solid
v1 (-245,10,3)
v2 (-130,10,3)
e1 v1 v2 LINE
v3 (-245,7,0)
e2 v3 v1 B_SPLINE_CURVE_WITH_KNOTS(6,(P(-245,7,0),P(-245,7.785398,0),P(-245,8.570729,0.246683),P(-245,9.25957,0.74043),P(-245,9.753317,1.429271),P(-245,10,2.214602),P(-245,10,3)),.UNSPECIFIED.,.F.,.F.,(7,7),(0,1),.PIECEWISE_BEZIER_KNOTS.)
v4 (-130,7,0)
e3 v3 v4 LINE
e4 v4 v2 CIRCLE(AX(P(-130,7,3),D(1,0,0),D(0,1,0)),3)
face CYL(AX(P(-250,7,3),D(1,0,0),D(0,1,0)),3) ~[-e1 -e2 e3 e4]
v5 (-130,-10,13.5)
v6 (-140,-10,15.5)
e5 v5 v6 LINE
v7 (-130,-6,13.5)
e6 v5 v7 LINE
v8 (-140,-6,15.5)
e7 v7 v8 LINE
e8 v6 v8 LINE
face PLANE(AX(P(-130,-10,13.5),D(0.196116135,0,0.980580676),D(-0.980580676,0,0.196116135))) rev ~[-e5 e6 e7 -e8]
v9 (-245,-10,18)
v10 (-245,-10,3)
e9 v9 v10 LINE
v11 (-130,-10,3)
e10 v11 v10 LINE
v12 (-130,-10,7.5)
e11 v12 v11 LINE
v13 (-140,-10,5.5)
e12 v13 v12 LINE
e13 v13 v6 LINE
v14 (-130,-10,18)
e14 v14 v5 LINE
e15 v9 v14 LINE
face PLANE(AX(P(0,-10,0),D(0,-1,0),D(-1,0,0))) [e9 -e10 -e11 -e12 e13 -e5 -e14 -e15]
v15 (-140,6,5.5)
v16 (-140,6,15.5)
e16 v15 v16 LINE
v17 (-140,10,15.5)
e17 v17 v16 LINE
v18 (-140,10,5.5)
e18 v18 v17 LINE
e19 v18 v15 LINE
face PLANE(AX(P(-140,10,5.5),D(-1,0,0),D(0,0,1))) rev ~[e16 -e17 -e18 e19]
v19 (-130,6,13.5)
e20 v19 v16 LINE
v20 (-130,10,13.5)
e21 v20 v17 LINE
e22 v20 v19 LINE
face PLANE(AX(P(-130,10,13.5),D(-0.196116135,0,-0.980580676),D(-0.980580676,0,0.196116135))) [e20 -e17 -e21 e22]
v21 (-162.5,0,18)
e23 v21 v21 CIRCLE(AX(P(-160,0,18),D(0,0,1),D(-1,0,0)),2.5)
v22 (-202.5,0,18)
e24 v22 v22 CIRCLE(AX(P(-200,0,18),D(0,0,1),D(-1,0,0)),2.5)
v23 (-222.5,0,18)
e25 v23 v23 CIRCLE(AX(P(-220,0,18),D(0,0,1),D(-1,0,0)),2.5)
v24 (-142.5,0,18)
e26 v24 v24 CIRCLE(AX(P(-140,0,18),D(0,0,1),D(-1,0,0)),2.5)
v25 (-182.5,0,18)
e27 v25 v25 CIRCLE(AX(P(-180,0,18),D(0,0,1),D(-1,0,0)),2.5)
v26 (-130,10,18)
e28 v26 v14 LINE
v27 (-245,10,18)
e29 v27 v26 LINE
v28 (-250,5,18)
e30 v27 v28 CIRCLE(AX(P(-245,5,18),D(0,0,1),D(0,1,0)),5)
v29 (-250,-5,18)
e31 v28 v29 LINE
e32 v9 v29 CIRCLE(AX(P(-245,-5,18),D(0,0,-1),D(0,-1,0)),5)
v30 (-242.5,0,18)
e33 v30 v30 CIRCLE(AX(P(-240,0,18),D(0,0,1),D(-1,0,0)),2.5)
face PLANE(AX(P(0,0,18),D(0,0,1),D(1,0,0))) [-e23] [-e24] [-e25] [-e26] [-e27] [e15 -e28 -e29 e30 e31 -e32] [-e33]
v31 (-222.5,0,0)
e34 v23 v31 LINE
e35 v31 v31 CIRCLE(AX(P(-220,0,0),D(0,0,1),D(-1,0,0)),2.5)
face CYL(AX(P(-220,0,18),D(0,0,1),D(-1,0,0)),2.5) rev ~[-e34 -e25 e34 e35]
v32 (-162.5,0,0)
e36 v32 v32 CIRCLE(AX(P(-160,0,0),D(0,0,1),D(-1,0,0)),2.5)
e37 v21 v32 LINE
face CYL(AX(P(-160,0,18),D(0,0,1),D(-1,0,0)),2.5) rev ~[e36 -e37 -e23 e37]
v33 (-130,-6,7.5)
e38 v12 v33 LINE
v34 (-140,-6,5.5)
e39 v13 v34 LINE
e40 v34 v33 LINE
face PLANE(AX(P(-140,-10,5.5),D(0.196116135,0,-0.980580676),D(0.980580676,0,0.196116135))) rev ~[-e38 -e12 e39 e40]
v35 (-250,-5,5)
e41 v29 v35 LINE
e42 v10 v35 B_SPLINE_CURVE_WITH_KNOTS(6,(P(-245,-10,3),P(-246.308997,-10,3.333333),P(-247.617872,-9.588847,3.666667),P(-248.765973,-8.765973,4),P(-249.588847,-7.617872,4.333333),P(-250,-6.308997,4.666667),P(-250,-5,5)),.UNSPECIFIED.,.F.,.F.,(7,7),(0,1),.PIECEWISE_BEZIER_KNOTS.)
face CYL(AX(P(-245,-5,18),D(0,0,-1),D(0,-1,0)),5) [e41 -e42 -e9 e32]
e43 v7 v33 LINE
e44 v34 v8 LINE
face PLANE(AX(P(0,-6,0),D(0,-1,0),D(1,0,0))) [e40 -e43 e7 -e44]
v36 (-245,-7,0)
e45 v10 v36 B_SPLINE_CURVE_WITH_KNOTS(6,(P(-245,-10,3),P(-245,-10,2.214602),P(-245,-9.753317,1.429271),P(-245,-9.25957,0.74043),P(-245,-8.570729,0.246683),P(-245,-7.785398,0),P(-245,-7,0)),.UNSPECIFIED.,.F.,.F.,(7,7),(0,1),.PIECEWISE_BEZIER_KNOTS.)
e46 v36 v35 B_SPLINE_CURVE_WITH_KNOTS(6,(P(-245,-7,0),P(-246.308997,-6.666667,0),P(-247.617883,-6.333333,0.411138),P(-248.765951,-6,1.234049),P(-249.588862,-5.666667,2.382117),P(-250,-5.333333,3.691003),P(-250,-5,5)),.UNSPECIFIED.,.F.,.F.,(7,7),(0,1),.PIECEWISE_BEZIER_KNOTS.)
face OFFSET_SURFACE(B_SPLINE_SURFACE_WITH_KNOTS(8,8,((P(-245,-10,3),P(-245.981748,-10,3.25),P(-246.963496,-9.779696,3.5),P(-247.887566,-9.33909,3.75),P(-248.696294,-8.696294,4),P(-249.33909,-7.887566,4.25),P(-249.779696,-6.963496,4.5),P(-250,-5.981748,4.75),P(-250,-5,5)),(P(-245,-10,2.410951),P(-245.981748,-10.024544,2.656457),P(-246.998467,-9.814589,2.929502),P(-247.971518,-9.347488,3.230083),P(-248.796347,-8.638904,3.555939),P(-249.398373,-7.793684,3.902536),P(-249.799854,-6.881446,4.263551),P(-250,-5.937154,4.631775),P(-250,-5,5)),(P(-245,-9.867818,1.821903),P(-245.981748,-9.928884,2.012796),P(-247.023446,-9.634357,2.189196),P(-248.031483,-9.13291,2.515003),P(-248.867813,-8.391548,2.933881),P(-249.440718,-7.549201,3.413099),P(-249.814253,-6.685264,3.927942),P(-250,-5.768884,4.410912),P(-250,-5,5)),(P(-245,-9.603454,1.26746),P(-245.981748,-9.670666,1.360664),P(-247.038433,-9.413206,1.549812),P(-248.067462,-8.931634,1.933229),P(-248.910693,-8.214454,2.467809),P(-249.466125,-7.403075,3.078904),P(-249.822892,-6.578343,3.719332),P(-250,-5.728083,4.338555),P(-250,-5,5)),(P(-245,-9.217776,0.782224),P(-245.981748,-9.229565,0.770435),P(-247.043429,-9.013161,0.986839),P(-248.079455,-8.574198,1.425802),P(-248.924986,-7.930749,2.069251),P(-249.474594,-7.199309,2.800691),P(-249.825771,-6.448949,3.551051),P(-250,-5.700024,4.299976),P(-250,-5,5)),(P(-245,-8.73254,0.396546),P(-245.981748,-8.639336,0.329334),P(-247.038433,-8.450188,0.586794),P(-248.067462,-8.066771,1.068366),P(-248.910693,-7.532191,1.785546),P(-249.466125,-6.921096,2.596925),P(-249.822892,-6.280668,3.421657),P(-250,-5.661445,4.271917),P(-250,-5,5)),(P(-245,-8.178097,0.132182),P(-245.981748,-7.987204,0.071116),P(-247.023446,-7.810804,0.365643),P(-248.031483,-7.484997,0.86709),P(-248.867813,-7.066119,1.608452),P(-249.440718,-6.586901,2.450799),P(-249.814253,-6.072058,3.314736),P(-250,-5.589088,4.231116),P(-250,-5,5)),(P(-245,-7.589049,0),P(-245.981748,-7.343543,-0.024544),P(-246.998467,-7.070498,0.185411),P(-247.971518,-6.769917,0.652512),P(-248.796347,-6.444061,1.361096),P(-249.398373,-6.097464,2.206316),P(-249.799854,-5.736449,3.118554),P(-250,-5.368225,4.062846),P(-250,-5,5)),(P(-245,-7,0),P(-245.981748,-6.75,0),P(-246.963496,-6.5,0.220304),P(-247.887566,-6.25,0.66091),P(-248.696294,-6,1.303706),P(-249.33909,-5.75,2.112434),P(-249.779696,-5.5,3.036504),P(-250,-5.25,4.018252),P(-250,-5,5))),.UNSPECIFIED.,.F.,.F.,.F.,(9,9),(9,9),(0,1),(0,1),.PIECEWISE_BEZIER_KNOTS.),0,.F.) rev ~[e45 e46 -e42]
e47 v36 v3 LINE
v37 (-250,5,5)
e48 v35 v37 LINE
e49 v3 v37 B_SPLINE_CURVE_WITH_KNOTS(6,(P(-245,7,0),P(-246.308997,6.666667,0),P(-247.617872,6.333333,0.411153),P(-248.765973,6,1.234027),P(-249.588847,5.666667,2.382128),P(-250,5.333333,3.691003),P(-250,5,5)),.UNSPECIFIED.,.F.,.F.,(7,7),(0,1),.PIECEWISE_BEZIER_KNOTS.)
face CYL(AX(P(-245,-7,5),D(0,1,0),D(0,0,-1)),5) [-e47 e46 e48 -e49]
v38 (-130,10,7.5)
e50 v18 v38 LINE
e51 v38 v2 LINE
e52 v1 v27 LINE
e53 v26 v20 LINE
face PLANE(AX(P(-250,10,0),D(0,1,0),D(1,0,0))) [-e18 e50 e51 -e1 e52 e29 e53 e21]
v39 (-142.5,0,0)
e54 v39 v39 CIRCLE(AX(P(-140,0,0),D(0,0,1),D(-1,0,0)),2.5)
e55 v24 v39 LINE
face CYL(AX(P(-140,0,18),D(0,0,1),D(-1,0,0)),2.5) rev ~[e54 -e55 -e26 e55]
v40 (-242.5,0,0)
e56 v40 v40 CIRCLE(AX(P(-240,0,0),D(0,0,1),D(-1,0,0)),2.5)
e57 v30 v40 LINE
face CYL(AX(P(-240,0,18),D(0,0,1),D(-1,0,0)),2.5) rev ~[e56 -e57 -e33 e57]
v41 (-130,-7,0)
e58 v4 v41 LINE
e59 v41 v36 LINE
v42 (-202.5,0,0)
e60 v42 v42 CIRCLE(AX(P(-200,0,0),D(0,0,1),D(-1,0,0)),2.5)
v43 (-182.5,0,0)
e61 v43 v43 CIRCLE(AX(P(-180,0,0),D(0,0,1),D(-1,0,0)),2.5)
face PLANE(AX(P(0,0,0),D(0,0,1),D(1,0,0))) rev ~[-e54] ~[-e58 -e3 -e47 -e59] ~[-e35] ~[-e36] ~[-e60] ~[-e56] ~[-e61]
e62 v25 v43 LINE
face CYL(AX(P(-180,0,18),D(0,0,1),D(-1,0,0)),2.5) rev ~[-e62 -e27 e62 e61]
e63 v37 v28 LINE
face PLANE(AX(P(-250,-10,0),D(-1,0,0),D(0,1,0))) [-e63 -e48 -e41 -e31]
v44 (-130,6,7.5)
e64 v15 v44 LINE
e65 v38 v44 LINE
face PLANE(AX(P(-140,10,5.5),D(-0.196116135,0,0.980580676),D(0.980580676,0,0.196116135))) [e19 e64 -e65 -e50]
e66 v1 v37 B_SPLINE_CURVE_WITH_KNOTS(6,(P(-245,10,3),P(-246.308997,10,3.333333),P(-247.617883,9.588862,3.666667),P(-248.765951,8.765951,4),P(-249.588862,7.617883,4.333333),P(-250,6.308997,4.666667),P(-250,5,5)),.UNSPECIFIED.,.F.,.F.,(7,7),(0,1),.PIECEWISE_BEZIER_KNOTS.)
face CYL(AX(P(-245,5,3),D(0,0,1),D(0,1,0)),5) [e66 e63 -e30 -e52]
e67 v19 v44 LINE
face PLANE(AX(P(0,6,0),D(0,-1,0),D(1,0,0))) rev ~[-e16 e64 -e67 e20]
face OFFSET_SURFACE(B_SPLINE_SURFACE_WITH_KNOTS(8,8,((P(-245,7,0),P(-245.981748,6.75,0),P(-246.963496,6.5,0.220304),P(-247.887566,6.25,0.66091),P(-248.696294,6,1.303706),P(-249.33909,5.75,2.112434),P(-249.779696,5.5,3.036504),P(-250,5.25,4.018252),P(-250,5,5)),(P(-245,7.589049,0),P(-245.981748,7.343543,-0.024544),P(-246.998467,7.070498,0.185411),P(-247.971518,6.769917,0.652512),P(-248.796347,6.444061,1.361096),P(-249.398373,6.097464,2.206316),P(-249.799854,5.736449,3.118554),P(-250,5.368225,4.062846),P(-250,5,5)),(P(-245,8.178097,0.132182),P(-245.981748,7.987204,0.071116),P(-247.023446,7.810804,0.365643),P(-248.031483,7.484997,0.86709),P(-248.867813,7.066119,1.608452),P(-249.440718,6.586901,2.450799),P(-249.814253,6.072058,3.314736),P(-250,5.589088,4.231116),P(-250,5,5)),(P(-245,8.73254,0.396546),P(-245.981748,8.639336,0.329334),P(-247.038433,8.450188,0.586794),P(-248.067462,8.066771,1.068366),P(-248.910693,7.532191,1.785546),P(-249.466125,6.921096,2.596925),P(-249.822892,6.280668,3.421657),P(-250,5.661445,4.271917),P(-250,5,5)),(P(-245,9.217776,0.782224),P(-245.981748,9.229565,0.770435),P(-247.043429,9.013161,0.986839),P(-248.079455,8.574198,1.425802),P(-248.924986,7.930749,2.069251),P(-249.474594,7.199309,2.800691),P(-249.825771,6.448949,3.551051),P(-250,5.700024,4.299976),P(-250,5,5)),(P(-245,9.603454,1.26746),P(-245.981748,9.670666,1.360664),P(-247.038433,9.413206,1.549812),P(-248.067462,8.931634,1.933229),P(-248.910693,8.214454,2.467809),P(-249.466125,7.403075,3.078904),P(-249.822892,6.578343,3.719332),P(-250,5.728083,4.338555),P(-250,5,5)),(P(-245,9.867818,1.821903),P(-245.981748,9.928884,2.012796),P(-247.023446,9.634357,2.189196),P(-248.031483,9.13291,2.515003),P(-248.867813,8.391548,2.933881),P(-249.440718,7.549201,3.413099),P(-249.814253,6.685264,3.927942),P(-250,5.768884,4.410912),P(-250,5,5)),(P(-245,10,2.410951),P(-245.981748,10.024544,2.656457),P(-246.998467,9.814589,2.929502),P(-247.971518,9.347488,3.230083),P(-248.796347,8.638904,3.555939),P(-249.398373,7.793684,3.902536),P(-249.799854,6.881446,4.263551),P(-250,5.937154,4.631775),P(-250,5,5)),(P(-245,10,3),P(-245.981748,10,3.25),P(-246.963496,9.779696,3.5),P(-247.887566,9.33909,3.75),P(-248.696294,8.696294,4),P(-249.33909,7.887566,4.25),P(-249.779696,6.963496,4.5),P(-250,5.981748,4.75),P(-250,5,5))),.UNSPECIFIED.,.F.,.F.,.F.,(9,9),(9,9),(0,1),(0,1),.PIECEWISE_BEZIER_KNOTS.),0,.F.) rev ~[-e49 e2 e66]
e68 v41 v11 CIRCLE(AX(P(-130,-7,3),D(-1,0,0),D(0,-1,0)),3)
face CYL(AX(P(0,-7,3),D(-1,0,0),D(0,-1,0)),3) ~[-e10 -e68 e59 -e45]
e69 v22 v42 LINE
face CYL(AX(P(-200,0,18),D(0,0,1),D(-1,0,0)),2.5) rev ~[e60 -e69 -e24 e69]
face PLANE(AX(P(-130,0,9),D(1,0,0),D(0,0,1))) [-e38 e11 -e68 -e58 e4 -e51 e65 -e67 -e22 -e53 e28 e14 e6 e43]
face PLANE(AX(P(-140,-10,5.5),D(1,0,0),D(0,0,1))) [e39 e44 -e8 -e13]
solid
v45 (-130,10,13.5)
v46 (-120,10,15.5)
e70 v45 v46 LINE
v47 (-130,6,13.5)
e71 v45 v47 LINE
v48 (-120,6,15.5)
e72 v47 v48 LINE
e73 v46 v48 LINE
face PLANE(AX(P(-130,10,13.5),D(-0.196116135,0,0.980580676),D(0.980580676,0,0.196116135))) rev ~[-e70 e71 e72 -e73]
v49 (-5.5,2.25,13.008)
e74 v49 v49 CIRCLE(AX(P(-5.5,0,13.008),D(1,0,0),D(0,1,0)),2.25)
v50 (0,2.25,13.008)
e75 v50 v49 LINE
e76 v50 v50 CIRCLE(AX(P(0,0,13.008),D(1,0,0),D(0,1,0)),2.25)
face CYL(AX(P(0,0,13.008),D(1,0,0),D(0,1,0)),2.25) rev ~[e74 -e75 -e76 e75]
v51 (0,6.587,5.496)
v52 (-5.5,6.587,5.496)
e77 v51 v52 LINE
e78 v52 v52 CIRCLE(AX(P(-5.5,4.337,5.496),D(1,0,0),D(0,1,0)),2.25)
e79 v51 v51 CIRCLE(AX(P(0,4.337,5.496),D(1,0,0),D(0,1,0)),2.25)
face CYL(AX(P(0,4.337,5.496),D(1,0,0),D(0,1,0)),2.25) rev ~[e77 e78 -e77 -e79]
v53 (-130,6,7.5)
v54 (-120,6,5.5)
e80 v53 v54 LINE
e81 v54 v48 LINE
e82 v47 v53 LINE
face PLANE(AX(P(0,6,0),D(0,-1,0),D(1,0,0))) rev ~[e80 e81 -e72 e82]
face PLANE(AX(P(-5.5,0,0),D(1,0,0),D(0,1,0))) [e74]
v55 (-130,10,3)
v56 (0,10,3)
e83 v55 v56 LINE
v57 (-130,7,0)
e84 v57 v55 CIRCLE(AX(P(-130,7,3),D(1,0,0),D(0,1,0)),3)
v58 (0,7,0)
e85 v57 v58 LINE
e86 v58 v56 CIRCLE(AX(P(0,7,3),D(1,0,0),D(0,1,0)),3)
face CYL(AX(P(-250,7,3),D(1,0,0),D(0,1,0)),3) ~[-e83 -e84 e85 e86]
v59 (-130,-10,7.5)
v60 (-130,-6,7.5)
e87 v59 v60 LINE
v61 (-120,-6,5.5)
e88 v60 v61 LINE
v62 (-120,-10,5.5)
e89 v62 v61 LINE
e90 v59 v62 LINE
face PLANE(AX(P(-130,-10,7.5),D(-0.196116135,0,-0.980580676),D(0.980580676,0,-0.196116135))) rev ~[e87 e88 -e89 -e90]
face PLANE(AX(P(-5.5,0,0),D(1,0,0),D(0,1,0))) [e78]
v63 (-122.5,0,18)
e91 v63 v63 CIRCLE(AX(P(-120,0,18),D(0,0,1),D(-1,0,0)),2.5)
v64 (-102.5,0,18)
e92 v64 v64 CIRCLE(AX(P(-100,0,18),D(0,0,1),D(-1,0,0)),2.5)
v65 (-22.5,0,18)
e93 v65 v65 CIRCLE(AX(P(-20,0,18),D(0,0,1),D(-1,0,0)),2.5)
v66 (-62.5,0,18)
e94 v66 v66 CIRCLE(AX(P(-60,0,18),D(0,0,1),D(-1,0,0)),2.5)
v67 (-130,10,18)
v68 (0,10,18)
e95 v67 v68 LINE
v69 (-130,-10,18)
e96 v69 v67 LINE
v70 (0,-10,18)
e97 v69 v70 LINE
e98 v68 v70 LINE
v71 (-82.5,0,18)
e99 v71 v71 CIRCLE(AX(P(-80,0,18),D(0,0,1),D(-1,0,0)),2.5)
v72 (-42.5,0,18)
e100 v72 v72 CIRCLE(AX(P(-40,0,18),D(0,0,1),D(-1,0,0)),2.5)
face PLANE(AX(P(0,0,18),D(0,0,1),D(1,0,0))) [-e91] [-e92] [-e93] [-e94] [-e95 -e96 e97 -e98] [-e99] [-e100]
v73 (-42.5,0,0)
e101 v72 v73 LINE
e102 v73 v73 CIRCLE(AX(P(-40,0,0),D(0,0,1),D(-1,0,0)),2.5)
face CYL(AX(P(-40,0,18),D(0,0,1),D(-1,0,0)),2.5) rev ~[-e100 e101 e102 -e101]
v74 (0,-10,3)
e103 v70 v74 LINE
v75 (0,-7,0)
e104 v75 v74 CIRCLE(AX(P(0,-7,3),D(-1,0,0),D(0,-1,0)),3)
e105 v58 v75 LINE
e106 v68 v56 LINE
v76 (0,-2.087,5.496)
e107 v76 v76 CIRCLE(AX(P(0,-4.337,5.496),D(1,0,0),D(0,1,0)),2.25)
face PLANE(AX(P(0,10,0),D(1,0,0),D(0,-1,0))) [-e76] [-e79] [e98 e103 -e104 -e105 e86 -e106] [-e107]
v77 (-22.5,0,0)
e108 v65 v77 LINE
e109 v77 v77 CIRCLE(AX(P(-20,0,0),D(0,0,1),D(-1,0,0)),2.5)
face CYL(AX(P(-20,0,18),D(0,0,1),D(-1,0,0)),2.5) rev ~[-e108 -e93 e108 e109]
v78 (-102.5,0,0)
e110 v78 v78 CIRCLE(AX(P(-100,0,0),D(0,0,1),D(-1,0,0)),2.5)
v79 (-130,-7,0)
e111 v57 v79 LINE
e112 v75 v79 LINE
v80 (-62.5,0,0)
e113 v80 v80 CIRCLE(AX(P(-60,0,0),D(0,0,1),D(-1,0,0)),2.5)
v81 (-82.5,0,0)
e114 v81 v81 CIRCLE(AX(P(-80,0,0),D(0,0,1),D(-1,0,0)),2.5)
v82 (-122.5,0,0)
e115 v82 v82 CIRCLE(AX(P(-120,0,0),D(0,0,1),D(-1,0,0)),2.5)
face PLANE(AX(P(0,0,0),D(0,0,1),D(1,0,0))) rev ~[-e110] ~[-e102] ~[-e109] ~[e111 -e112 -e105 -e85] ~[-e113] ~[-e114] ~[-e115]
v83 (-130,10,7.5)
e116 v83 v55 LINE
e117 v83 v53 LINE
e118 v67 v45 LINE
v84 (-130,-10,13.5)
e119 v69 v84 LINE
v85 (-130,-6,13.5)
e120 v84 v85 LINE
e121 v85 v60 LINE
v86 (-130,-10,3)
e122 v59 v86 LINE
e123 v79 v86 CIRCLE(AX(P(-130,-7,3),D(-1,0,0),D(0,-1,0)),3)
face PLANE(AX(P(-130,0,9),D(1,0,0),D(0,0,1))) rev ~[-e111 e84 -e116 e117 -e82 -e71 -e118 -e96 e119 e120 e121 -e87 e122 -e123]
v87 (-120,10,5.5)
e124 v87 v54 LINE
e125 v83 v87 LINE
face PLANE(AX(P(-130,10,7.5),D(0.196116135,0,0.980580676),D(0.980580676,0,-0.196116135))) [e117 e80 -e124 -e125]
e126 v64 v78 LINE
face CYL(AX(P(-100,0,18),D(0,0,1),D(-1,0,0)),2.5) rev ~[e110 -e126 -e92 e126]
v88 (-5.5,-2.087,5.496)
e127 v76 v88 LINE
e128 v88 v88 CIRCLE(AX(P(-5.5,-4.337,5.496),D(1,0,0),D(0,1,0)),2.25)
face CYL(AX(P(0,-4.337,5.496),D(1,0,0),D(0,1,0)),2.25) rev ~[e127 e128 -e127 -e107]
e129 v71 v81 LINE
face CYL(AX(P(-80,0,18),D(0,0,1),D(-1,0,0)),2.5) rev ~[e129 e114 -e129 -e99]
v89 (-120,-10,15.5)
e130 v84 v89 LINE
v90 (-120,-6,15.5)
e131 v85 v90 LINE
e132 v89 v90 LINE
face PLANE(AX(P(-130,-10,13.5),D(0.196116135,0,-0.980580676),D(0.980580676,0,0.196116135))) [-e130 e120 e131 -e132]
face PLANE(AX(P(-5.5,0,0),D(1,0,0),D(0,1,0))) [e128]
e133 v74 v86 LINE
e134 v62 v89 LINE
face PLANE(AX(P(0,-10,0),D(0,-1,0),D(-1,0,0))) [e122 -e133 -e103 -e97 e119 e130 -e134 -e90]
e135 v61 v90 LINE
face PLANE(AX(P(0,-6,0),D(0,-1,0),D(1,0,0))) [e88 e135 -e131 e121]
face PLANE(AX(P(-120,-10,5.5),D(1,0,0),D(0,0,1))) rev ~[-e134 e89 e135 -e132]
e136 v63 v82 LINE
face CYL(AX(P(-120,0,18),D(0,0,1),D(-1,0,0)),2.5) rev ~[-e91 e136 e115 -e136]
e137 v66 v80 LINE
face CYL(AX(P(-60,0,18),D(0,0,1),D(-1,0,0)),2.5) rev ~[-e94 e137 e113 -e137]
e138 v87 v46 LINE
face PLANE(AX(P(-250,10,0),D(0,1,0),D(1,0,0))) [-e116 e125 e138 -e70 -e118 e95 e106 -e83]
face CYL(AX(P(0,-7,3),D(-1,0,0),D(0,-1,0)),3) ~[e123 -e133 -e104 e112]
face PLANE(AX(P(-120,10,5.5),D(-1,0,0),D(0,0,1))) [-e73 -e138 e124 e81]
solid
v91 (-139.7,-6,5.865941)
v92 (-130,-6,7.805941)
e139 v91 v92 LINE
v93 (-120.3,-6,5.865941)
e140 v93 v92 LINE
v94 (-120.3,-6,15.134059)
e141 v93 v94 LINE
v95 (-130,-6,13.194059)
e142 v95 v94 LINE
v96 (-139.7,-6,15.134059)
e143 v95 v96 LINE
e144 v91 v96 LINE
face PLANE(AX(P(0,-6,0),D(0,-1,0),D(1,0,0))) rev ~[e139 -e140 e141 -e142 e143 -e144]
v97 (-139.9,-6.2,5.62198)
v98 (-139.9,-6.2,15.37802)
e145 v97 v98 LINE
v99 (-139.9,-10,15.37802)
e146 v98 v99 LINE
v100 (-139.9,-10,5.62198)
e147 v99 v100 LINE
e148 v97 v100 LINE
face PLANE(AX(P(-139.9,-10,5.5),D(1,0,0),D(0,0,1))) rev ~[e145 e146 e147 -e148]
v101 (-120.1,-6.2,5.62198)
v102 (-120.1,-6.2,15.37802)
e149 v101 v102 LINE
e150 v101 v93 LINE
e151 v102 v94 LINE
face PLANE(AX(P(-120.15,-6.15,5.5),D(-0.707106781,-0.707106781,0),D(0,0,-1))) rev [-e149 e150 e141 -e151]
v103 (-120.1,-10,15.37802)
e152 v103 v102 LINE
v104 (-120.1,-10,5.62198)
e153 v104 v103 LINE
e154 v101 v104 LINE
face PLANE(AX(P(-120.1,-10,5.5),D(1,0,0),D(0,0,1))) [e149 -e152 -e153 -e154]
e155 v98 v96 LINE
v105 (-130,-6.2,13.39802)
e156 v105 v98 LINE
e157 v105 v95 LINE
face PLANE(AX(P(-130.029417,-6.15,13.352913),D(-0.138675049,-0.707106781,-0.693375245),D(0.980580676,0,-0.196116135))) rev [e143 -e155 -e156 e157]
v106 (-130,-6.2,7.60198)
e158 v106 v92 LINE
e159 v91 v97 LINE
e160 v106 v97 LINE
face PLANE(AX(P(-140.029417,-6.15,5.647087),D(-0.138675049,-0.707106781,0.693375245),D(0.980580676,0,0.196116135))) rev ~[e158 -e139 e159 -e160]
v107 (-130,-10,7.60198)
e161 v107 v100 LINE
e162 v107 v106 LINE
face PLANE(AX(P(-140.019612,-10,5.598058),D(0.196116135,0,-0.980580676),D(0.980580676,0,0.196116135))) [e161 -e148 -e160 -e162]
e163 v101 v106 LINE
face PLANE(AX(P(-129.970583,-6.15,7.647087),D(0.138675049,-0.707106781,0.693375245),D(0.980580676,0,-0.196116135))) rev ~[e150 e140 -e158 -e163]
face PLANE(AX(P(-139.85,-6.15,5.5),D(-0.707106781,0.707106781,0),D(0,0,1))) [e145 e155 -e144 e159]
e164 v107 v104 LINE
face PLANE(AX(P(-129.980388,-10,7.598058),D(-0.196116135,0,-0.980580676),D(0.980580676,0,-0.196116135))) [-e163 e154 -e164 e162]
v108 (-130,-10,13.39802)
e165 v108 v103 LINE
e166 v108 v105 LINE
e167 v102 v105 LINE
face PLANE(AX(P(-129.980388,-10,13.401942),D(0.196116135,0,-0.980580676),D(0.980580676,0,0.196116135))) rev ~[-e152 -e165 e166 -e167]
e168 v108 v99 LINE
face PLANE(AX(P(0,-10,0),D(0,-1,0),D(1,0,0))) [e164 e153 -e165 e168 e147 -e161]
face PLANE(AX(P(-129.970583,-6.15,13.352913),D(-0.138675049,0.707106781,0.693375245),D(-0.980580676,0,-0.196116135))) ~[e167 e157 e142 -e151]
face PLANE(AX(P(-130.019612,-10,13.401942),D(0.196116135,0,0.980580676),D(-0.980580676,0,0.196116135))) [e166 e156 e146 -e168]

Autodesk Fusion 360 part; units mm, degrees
sketch "Sketch1" plane through (0, 0, 0) normal (0, 0, 1) x (1, 0, 0)
  line L0 (0, 10) -> (0, -10)
  line L1 (0, -10) -> (-250, -10)
  line L2 (-250, -10) -> (-250, 10)
  line L3 (-250, 10) -> (0, 10)
  line L4 (0, -10) -> (-250, 10) construction
  line L5 (-250, -10) -> (0, 10) construction
  point P0 (-125, 0)
  point P1 (-250, 0)
  dimension "d1" = 20
  dimension "d36" = 250
extrude "Extrude1" add sketch "Sketch1" along normal blind 18 makes body 1
sketch "Sketch2" plane through (0, 0, 18) normal (0, 0, 1) x (-1, 0, 0)
  line L0 (250, -10) -> (250, 10)
  line L1 (250, 10) -> (0, 10)
  line L2 (0, 10) -> (0, -10)
  line L3 (0, -10) -> (250, -10)
  circle A0 centre (280, 0) radius 2
  circle A1 centre (260, 0) radius 2
  circle A2 centre (240, 0) radius 2
  circle A3 centre (220, 0) radius 2
  circle A4 centre (200, 0) radius 2
  circle A5 centre (180, 0) radius 2
  circle A6 centre (160, 0) radius 2
  circle A7 centre (140, 0) radius 2
  circle A8 centre (120, 0) radius 2
  circle A9 centre (100, 0) radius 2
  circle A10 centre (80, 0) radius 2
  circle A11 centre (60, 0) radius 2
  circle A12 centre (40, 0) radius 2
  circle A13 centre (20, 0) radius 2
  point P0 (20, 0)
  point P1 (40, 0)
  point P2 (60, 0)
  point P3 (80, 0)
  point P4 (100, 0)
  point P5 (120, 0)
  point P6 (140, 0)
  point P7 (160, 0)
  point P8 (180, 0)
  point P9 (200, 0)
  point P10 (220, 0)
  point P11 (240, 0)
  point P12 (260, 0)
  point P13 (280, 0)
  dimension "d9" = 20
  dimension "d10" = 0
  dimension "d11" = 4
  dimension "d12" = 4
  dimension "d13" = 4
  dimension "d14" = 4
  dimension "d15" = 4
  dimension "d16" = 4
  dimension "d17" = 4
  dimension "d18" = 4
  dimension "d19" = 4
  dimension "d20" = 4
  dimension "d21" = 4
  dimension "d22" = 4
  dimension "d23" = 4
  dimension "d24" = 4
extrude "Extrude2" cut sketch "Sketch2" against normal blind 90 contours A0 | A1 | A2 | A3 | A4 | A5 | A6 | A7 | A8 | A9 | A10 | A11 | A12 | A13 bodies 1
fillet "Fillet1" radius 3 2 edges at (-125, -10, 0) (-125, 10, 0) on bodies 1
sketch "Sketch3" plane through (0, 0, 0) normal (1, 0, 0) x (0, 1, 0)
  arc A0 (7, 0) -> (10, 3) centre (7, 3) ccw
  line L0 (10, 3) -> (10, 18)
  line L1 (10, 18) -> (-10, 18)
  line L2 (-10, 18) -> (-10, 3)
  arc A1 (-10, 3) -> (-7, 0) centre (-7, 3) ccw
  line L3 (-7, 0) -> (7, 0)
  line L4 (0, 36) -> (0, 0) construction
  line L5 (0, 13.008) -> (-4.337, 5.496) construction
  line L6 (-4.337, 5.496) -> (4.337, 5.496) construction
  line L7 (4.337, 5.496) -> (0, 13.008) construction
  circle A2 centre (0, 13.008) radius 2.25
  circle A3 centre (4.337, 5.496) radius 2.25
  circle A4 centre (-4.337, 5.496) radius 2.25
  point P0 (0, 18)
  point P1 (0, 8)
  dimension "d29" = 8.6741
  dimension "d30" = 8
  dimension "d31" = 4.5
  dimension "d32" = 4.5
  dimension "d33" = 4.5
extrude "Extrude3" cut sketch "Sketch3" against normal blind 5.5 contours A2 | A3 | A4 bodies 1
sketch "Sketch4" plane through (0, -10, 0) normal (0, -1, 0) x (1, 0, 0)
  line L0 (-250, 3) -> (0, 3)
  line L1 (0, 3) -> (0, 18)
  line L2 (0, 18) -> (-250, 18)
  line L3 (-250, 18) -> (-250, 3)
fillet "Fillet2" radius 5 5 edges at (-250, 10, 10.5) (-250, 9.1213, 0.8787) (-250, 0, 0) (-250, -9.1213, 0.8787) (-250, -10, 10.5) on bodies 1
ref_plane "WorkPlane1" through (-130, 0, 9) normal (1, 0, 0) x (0, 1, 0)
split "Split1" by plane through (-130, 0, 9) normal (1, 0, 0) bodies 1 makes body 2 at (-6, 0, 18)
sketch "Sketch5" plane through (0, -10, 0) normal (0, -1, 0) x (1, 0, 0)
  line L0 (-130, 3) -> (-130, 18)
  line L1 (-130, 18) -> (-245, 18)
  line L2 (-245, 18) -> (-245, 3)
  line L3 (-245, 3) -> (-130, 3)
  line L4 (-130, 18) -> (-130, 3)
  line L5 (-130, 3) -> (0, 3)
  line L6 (0, 3) -> (0, 18)
  line L7 (0, 18) -> (-130, 18)
  line L8 (-120, 15.5) -> (-140, 15.5) construction
  line L9 (-140, 15.5) -> (-140, 5.5) construction
  line L10 (-140, 5.5) -> (-120, 5.5) construction
  line L11 (-120, 5.5) -> (-120, 15.5) construction
  line L12 (-120, 15.5) -> (-140, 5.5) construction
  line L13 (-140, 15.5) -> (-120, 5.5) construction
  line L14 (-120, 5.5) -> (-120, 15.5)
  line L15 (-130, 13.5) -> (-140, 15.5)
  line L16 (-140, 5.5) -> (-140, 15.5)
  line L17 (-140, 5.5) -> (-130, 7.5)
  line L18 (-130, 7.5) -> (-120, 5.5)
  line L19 (-130, 13.5) -> (-120, 15.5)
  point P0 (-130, 10.5)
  point P1 (-130, 10.5)
  dimension "d41" = 20
  dimension "d42" = 10
  dimension "d43" = 3
  dimension "d44" = 3
move_face "OffsetFaces1" offset -0.5 12 faces at (-21.9901, 0.1991, 12) (-41.9901, 0.1991, 12) (-61.9901, 0.1991, 12) (-78.4679, -1.2856, 6) (-98.6766, -1.4996, 12) (-118.6766, -1.4996, 12) (-141.1675, -1.6239, 6) (-161.1675, -1.6239, 6) (-181.1675, -1.6239, 6) (-199.0876, 1.7797, 12) (-221.1675, -1.6239, 6) (-239.0876, 1.7797, 12) on bodies 1 2
extrude "Extrude4" cut sketch "Sketch5" against normal blind 4 contours L0 L4 L15 L16 L17 | L0 L4 L14 L18 L19 bodies 1 2
extrude "Extrude5" cut sketch "Sketch5" along normal blind 4 from surface at -20 contours L0 L4 L15 L16 L17 | L0 L4 L14 L18 L19 bodies 1 2
extrude "Extrude6" add sketch "Sketch5" against normal blind 4 separate body contours L0 L4 L15 L16 L17 | L0 L4 L14 L18 L19 makes body 3
chamfer "Chamfer1" distance 0.3 angle 45 1 faces at (-136.6667, -6, 11.5) tangent chain off on bodies 3
move_face "OffsetFaces2" offset -0.1 6 faces at (-123.3333, -7.5333, 14.8333) (-136.6667, -7.5333, 14.8333) (-140, -7.5333, 12.1667) (-136.6667, -8.7667, 6.1667) (-126.6667, -8.7667, 6.8333) (-120, -7.5333, 12.1667) on bodies 3
equation "supportheight = 300"
